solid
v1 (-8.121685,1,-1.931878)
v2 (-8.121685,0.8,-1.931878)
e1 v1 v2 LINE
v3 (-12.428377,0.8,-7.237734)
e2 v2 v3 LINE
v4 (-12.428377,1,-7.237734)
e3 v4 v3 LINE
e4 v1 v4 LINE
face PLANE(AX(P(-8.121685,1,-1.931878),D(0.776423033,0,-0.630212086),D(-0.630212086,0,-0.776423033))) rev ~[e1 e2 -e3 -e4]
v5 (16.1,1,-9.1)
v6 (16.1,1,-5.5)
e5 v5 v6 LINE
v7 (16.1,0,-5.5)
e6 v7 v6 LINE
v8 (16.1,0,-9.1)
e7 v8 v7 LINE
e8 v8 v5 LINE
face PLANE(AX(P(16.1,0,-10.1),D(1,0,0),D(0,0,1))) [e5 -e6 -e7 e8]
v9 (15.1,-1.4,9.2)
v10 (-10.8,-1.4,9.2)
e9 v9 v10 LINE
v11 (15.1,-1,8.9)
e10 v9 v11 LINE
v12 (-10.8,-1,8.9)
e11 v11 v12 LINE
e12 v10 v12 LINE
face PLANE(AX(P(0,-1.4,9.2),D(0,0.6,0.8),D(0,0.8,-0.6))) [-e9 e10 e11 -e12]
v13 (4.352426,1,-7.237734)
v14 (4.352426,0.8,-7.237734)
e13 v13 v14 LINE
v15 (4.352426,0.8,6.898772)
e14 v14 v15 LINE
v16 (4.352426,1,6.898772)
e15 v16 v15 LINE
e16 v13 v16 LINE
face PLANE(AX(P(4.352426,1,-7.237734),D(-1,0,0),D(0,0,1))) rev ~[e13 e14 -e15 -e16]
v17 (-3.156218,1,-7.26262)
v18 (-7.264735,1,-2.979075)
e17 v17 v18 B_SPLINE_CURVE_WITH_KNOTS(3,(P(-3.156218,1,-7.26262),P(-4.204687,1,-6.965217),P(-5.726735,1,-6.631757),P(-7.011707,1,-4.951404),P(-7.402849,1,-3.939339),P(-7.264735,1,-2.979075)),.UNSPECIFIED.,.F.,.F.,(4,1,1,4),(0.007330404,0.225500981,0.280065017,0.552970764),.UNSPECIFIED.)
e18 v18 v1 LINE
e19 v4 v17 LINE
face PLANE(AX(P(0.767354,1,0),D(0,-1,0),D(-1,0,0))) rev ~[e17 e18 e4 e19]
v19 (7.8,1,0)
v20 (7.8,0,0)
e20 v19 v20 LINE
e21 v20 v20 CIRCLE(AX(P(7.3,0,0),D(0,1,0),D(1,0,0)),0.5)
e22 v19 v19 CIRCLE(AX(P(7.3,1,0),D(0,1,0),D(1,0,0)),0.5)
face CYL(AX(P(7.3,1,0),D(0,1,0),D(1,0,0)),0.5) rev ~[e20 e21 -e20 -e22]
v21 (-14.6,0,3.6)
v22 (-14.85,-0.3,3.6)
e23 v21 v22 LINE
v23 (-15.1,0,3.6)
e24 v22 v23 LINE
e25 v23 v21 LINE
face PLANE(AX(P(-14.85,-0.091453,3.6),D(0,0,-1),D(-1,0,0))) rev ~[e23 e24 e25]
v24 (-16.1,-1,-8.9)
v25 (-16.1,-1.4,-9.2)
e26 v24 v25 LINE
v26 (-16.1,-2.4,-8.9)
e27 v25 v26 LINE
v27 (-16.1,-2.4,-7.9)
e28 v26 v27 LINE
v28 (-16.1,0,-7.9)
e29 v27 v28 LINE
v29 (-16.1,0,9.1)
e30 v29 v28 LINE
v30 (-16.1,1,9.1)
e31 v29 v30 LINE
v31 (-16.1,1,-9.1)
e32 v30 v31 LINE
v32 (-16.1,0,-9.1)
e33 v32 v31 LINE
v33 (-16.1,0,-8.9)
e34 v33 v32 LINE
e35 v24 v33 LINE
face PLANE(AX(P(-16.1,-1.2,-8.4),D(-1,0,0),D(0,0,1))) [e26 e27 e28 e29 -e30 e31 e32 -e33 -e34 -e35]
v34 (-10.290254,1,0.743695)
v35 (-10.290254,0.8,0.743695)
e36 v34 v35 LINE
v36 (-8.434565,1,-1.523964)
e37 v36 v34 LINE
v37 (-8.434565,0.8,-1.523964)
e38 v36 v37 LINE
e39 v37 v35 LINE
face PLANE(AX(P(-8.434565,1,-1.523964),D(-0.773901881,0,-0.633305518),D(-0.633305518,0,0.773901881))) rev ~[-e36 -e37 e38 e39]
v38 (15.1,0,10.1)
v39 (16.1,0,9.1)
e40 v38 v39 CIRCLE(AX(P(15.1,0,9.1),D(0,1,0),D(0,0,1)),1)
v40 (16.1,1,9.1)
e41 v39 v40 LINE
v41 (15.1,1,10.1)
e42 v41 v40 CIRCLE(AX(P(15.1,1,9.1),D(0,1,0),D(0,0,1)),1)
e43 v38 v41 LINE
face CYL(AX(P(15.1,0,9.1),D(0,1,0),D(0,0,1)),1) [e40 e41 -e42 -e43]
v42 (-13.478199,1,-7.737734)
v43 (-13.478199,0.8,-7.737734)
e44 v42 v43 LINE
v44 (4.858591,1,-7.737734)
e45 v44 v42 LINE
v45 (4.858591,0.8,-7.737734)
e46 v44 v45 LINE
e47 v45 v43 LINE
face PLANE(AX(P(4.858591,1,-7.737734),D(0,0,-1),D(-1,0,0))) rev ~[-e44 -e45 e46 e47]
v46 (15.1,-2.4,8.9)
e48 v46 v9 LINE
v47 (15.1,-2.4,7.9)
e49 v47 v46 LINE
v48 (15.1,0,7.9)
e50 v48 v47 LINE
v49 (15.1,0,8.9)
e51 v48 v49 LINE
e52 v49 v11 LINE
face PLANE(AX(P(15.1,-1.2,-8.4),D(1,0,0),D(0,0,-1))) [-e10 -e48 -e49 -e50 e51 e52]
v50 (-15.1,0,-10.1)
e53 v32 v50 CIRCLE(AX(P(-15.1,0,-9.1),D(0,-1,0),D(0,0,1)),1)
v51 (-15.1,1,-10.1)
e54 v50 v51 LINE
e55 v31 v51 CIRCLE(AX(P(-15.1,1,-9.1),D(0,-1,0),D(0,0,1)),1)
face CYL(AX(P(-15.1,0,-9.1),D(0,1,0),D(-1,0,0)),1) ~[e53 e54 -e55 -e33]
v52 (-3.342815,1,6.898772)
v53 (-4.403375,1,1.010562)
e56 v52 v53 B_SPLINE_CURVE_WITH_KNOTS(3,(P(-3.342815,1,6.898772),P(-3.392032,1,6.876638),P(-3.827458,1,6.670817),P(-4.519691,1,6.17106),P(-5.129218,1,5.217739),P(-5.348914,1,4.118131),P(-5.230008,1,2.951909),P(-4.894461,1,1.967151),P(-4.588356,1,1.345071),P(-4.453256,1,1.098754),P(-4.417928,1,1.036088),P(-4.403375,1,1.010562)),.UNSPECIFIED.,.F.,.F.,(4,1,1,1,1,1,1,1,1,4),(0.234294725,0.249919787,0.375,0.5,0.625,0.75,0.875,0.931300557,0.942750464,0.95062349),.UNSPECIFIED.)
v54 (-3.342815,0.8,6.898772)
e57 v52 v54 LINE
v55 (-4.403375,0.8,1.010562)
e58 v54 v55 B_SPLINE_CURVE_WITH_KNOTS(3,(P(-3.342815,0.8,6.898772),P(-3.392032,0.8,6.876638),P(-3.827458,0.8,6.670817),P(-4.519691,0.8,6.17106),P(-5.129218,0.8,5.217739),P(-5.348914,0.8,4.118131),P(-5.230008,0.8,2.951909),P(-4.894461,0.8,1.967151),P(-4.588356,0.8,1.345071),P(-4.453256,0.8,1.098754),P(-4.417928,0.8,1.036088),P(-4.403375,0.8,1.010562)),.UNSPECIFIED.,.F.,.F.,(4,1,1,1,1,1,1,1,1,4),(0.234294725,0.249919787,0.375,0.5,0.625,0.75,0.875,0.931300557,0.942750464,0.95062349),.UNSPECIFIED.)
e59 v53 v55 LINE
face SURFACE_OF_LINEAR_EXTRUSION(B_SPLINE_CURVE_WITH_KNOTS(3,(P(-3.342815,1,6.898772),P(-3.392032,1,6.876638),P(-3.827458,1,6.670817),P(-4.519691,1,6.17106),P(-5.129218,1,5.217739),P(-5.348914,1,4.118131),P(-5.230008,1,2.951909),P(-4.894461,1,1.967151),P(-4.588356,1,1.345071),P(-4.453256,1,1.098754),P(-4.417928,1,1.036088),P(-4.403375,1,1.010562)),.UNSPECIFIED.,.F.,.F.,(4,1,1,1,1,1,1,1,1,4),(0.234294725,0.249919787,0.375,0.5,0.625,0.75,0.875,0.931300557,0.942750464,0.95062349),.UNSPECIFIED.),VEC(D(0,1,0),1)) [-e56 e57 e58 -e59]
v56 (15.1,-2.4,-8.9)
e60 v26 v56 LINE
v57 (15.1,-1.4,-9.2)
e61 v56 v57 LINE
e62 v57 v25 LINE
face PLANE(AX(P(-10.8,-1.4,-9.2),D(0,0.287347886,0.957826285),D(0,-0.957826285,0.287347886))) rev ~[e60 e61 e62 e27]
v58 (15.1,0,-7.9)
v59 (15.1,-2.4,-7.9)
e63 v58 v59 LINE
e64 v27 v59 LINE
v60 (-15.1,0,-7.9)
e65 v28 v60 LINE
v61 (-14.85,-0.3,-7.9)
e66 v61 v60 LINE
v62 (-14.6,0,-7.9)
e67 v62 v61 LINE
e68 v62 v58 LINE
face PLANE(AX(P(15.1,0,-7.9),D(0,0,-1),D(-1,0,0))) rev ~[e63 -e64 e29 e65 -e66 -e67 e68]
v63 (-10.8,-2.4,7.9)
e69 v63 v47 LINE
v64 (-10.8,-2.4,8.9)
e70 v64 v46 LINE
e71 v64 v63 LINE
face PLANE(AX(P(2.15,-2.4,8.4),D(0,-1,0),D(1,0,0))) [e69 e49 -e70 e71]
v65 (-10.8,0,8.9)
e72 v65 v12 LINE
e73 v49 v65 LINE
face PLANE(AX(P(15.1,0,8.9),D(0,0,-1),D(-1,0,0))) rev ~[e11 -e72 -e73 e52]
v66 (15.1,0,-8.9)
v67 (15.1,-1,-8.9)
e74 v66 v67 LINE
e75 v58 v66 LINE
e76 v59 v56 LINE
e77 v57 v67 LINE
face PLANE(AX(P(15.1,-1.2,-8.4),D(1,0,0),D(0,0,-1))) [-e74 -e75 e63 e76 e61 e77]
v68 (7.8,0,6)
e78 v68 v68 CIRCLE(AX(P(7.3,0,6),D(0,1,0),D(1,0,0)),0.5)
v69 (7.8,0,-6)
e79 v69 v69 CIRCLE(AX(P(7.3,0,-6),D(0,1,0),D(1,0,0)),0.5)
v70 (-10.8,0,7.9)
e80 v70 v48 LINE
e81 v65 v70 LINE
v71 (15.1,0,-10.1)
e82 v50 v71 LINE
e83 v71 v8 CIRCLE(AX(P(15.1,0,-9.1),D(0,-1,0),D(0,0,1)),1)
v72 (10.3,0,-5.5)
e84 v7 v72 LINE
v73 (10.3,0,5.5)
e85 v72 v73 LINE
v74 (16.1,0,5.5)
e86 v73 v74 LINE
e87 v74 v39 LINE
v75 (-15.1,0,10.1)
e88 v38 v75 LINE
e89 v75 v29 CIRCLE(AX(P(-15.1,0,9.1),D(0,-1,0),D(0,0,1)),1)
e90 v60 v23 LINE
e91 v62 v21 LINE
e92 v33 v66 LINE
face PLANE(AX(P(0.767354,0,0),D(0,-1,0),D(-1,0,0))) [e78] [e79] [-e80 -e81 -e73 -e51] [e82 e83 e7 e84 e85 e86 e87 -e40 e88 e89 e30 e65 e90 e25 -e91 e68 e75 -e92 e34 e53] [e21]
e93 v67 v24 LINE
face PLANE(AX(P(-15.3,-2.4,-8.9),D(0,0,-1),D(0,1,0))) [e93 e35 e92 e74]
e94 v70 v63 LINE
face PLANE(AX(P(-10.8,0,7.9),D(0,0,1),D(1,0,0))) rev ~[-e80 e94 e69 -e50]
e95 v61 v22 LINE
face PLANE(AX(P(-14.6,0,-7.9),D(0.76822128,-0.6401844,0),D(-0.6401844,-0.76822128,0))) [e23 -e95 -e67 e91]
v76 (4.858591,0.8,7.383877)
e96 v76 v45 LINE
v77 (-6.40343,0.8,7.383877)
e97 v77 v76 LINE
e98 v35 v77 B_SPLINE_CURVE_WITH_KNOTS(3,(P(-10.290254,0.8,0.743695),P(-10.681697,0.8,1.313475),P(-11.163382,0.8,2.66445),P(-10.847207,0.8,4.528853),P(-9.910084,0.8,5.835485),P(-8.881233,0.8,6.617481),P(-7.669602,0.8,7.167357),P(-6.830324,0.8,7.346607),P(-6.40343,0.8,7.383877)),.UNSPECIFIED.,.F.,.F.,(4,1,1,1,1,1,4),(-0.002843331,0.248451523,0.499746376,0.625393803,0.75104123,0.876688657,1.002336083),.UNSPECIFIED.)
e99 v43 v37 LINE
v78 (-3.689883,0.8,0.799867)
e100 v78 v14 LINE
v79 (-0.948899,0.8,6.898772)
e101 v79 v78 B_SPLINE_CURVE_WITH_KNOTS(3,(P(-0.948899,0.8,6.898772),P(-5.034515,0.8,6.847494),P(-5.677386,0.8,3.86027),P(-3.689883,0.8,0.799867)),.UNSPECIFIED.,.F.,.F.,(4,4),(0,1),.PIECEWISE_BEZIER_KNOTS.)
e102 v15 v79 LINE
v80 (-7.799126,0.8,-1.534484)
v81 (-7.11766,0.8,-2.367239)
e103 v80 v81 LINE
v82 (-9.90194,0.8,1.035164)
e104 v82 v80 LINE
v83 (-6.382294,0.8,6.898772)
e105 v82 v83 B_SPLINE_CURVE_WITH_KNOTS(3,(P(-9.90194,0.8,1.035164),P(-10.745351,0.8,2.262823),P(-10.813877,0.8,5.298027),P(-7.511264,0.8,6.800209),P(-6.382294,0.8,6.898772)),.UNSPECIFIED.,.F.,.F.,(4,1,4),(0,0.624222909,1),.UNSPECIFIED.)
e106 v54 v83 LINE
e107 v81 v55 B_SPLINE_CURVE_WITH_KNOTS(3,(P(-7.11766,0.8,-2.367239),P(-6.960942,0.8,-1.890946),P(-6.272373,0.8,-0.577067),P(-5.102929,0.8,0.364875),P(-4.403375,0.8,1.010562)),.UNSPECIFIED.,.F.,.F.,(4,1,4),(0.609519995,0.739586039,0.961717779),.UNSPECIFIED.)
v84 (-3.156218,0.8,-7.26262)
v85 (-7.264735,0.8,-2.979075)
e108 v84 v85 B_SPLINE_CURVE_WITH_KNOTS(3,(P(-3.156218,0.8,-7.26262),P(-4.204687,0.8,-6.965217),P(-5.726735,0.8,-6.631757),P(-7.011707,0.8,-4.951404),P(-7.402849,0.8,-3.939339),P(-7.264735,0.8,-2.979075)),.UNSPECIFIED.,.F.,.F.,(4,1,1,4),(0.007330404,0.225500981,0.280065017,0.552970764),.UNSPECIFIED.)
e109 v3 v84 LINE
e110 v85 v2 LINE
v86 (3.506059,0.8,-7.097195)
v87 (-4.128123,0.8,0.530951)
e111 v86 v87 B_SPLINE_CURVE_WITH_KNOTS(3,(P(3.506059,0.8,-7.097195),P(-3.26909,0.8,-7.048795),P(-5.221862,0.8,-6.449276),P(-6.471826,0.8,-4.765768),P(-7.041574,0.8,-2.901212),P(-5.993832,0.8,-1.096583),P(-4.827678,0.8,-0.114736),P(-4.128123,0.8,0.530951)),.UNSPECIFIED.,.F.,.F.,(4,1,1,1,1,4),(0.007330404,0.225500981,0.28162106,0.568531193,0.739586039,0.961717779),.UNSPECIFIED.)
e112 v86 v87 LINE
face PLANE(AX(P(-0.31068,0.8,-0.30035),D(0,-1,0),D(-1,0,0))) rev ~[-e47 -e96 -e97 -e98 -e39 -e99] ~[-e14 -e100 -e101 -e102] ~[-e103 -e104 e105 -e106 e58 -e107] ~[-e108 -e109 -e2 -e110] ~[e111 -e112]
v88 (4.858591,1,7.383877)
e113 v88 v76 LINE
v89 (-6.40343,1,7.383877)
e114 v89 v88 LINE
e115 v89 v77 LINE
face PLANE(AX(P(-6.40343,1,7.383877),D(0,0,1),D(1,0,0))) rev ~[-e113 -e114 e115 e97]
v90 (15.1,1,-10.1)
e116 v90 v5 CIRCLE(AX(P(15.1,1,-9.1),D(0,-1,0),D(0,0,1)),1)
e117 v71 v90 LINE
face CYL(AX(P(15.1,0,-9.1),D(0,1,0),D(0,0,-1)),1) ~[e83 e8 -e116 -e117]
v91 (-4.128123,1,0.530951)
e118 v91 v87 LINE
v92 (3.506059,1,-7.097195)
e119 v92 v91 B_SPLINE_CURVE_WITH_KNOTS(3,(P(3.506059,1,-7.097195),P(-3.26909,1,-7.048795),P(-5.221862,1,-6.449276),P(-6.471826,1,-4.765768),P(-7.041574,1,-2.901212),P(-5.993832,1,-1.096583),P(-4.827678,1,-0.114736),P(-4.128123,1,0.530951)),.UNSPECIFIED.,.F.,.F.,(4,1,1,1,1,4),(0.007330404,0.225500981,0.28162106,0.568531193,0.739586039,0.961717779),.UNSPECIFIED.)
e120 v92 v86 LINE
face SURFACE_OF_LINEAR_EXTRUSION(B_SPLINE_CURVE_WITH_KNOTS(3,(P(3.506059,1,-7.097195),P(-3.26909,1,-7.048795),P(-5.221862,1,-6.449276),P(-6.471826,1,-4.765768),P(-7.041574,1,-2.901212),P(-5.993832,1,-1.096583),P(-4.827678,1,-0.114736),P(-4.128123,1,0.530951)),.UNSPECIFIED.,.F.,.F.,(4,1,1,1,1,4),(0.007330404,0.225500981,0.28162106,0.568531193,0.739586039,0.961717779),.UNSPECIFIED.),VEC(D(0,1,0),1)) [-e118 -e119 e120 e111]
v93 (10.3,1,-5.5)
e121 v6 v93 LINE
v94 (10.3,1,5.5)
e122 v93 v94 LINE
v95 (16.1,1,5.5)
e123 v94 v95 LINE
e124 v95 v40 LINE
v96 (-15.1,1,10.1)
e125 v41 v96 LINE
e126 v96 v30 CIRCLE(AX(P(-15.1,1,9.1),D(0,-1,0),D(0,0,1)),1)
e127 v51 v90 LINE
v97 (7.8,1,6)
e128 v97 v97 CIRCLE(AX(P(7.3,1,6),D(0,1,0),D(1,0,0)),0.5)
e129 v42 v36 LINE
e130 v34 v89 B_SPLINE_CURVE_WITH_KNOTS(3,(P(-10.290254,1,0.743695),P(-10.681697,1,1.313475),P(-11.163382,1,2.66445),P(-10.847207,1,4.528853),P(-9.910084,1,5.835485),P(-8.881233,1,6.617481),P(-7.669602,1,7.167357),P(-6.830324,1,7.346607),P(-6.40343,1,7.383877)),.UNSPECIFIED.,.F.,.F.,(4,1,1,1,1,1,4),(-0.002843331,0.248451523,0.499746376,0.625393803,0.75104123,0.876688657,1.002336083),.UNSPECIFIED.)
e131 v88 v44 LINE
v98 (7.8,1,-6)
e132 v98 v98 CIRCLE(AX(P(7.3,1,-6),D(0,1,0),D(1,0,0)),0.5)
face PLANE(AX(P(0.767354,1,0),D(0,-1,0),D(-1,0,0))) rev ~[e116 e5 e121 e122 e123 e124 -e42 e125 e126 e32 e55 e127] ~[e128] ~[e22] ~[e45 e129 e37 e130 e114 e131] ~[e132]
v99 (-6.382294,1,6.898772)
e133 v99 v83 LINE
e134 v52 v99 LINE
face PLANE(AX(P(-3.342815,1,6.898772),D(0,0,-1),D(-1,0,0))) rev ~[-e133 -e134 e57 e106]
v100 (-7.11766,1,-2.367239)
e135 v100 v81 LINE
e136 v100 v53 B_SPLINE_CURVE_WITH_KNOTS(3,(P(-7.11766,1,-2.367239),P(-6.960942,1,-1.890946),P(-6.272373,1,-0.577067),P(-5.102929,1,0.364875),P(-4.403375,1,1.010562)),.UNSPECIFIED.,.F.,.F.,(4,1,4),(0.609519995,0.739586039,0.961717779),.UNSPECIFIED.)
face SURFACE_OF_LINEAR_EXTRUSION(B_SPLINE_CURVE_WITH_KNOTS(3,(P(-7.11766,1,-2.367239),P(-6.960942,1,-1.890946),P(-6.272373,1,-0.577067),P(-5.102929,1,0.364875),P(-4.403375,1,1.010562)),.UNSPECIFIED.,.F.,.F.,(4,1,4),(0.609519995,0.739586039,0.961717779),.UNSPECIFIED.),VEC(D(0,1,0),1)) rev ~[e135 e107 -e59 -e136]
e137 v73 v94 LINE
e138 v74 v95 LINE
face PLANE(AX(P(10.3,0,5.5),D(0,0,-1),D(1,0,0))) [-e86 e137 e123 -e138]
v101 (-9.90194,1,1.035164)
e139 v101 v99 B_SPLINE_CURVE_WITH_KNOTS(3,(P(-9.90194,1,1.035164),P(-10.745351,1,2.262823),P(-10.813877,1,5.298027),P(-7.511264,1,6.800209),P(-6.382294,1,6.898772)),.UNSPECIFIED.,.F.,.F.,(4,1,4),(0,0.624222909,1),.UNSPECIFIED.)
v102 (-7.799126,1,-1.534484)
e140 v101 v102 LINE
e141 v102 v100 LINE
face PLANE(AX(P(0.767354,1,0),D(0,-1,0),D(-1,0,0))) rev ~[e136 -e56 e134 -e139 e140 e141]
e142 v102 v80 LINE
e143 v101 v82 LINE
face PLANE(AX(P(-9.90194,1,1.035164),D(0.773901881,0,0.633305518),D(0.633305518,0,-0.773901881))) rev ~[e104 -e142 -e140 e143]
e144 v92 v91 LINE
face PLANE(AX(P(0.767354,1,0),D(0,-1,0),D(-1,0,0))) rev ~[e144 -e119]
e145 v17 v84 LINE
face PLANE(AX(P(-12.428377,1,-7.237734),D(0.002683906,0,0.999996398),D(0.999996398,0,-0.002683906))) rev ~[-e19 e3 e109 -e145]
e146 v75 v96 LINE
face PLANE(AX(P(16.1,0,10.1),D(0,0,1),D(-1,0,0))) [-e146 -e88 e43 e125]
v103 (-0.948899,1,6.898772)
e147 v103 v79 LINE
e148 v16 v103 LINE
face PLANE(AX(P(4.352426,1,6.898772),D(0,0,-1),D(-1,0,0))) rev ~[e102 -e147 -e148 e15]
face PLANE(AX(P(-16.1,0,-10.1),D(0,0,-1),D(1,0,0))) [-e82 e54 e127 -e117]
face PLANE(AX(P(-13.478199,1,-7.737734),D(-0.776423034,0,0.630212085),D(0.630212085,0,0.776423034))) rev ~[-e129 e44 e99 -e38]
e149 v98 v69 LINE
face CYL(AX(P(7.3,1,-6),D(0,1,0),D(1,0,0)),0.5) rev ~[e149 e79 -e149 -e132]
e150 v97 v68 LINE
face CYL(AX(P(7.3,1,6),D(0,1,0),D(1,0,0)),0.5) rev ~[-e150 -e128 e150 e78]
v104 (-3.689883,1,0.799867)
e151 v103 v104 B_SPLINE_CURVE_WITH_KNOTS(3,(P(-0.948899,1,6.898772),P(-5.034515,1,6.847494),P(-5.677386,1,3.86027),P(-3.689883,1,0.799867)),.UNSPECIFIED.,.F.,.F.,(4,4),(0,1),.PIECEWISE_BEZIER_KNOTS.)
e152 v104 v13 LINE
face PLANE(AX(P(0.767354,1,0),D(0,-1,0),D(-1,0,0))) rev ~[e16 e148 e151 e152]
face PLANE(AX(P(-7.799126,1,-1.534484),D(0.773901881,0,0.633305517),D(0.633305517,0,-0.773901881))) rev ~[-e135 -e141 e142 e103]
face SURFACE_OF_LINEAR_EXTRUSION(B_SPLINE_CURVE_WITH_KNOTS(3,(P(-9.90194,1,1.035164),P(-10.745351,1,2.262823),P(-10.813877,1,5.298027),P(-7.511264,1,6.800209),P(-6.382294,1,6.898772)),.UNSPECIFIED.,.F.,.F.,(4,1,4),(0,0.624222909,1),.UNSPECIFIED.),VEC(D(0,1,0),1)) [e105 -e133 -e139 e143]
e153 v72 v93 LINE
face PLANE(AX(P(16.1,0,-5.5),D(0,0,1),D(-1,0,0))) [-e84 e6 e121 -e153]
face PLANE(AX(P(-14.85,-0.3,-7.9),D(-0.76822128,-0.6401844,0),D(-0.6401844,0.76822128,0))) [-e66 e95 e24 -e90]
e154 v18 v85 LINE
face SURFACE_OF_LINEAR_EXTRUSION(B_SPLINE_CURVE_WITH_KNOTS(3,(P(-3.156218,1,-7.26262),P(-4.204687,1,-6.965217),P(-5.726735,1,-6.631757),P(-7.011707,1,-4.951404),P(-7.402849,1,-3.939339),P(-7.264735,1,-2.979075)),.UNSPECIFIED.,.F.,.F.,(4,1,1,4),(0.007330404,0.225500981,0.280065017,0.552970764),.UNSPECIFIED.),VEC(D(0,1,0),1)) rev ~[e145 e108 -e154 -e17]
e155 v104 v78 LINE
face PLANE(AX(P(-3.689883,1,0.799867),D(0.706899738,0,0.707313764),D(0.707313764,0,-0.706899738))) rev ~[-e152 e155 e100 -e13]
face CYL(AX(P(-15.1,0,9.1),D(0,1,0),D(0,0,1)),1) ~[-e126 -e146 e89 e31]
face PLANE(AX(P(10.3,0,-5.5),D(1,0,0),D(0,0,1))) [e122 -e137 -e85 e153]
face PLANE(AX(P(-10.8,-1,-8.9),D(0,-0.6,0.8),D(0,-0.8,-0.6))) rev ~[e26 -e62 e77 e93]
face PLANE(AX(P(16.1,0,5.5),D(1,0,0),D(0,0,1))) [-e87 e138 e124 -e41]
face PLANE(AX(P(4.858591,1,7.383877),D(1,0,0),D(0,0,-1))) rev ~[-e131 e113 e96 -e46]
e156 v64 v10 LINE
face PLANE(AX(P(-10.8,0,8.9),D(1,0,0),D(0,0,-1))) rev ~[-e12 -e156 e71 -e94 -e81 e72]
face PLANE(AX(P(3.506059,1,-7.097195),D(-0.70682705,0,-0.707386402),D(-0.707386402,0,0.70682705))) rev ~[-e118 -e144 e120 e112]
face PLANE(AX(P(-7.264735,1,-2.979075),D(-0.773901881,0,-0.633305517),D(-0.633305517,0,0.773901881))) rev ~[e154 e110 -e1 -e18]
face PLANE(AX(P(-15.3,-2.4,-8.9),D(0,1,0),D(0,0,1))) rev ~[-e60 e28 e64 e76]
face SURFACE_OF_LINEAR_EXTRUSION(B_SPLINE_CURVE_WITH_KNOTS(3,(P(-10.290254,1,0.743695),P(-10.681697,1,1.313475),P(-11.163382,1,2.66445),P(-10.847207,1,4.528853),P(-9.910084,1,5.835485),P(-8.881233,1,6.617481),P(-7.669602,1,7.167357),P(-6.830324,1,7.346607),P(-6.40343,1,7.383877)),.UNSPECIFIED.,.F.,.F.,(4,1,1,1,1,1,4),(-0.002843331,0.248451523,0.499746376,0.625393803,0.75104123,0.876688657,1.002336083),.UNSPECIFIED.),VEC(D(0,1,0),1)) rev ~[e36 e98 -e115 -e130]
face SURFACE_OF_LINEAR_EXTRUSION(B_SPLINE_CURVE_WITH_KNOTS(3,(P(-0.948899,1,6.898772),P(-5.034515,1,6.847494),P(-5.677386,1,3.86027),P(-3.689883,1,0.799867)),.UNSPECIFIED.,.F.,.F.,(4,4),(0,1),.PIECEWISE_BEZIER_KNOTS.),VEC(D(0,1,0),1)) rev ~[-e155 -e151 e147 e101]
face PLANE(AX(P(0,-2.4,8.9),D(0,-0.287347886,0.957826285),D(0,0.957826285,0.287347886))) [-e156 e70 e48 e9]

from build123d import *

# Parameters (mm, degrees)
BOSS_EXTRUDE1_DEPTH             = 1
BOSS_EXTRUDE2_DEPTH             = 2.4
BOSS_EXTRUDE3_REACH             = 18.1
BOSS_EXTRUDE3_DIRECTION_2_REACH = 18.1
BOSS_EXTRUDE4_DEPTH             = 5.3
FILLET1_R                       = 1
SKETCH5_W                       = 1
SKETCH5_H                       = 2.4
BOSS_EXTRUDE5_DEPTH             = 0.8
CUT_EXTRUDE1_DEPTH              = 0.2
BOSS_EXTRUDE6_DEPTH             = 11.5
SKETCH12_R                      = 0.5
CUT_EXTRUDE6_DEPTH              = 4.4


with BuildPart() as part:
    # Sketch1 → Boss-Extrude1 (new body)
    with BuildSketch(Plane(origin=(0, 0, 0), x_dir=(1, 0, 0), z_dir=(0, 1, 0))):
        Polygon((16.1, 5.5), (10.3, 5.5), (10.3, -5.5), (16.1, -5.5), (16.1, -10.1), (-16.1, -10.1), (-16.1, 10.1), (16.1, 10.1), align=None)
    extrude(amount=BOSS_EXTRUDE1_DEPTH)

    # Sketch2 → Boss-Extrude2 (add)
    with BuildSketch(Plane.XZ):
        Polygon((15.1, 8.9), (-10.8, 8.9), (-10.8, 7.9), (14.1, 7.9), (15.1, 7.9), align=None)
        Polygon((15.1, -8.9), (-15.3, -8.9), (-15.3, -7.9), (-14.3, -7.9), (14.1, -7.9), (15.1, -7.9), align=None)
    extrude(amount=BOSS_EXTRUDE2_DEPTH)

    # Boss-Extrude3: up to this face of the body (flat: up to its plane)
    boss_extrude3_end = Plane(part.part.faces().sort_by_distance((-10.8, -1.2, 8.4))[0])
    # Sketch3 → Boss-Extrude3 (add, up to the picked face)
    with BuildSketch(Plane(origin=(0, 0, 0), x_dir=(0, 0, -1), z_dir=(1, 0, 0)), mode=Mode.PRIVATE) as boss_extrude3_sk1:
        Polygon((8.9, -2.4), (9.2, -1.4), (8.9, -1), align=None)
    boss_extrude3_tool1 = split(extrude(boss_extrude3_sk1.sketch, amount=-BOSS_EXTRUDE3_REACH, mode=Mode.PRIVATE), bisect_by=boss_extrude3_end, keep=Keep.BOTH, mode=Mode.PRIVATE)
    add(boss_extrude3_tool1.solids().sort_by_distance((0, -1.6, -9))[0])
    # Sketch3 → Boss-Extrude3 (add, up to the picked face)
    with BuildSketch(Plane(origin=(0, 0, 0), x_dir=(0, 0, -1), z_dir=(1, 0, 0)), mode=Mode.PRIVATE) as boss_extrude3_sk2:
        Polygon((-8.9, -1), (-8.9, -2.4), (-9.2, -1.4), align=None)
    boss_extrude3_tool2 = split(extrude(boss_extrude3_sk2.sketch, amount=-BOSS_EXTRUDE3_REACH, mode=Mode.PRIVATE), bisect_by=boss_extrude3_end, keep=Keep.BOTH, mode=Mode.PRIVATE)
    add(boss_extrude3_tool2.solids().sort_by_distance((0, -1.6, 9))[0])

    # Boss-Extrude3 direction 2: up to this face of the body (flat: up to its plane)
    boss_extrude3_direction_2_end = Plane(part.part.faces().sort_by_distance((15.1, -1.2, -8.4))[0])
    # Sketch3 → Boss-Extrude3 direction 2 (add, up to the picked face)
    with BuildSketch(Plane(origin=(0, 0, 0), x_dir=(0, 0, -1), z_dir=(1, 0, 0)), mode=Mode.PRIVATE) as boss_extrude3_direction_2_sk1:
        Polygon((8.9, -2.4), (9.2, -1.4), (8.9, -1), align=None)
    boss_extrude3_direction_2_tool1 = split(extrude(boss_extrude3_direction_2_sk1.sketch, amount=BOSS_EXTRUDE3_DIRECTION_2_REACH, mode=Mode.PRIVATE), bisect_by=boss_extrude3_direction_2_end, keep=Keep.BOTH, mode=Mode.PRIVATE)
    add(boss_extrude3_direction_2_tool1.solids().sort_by_distance((0, -1.6, -9))[0])
    # Sketch3 → Boss-Extrude3 direction 2 (add, up to the picked face)
    with BuildSketch(Plane(origin=(0, 0, 0), x_dir=(0, 0, -1), z_dir=(1, 0, 0)), mode=Mode.PRIVATE) as boss_extrude3_direction_2_sk2:
        Polygon((-8.9, -1), (-8.9, -2.4), (-9.2, -1.4), align=None)
    boss_extrude3_direction_2_tool2 = split(extrude(boss_extrude3_direction_2_sk2.sketch, amount=BOSS_EXTRUDE3_DIRECTION_2_REACH, mode=Mode.PRIVATE), bisect_by=boss_extrude3_direction_2_end, keep=Keep.BOTH, mode=Mode.PRIVATE)
    add(boss_extrude3_direction_2_tool2.solids().sort_by_distance((0, -1.6, 9))[0])

    # Sketch4 → Boss-Extrude4 (add)
    with BuildSketch(Plane.ZY.offset(10.8)):
        Polygon((-8.9, -2.4), (-8.9, -1), (-9.2, -1.4), align=None)
    extrude(amount=BOSS_EXTRUDE4_DEPTH)

    # Fillet1
    fillet1_edges = [part.edges().sort_by_distance(p)[0] for p in [
        (-16.1, 0.5, 10.1),
        (16.1, 0.5, 10.1),
        (16.1, 0.5, -10.1),
        (-16.1, 0.5, -10.1),
    ]]
    fillet(fillet1_edges, radius=FILLET1_R)

    # Sketch5 → Boss-Extrude5 (add)
    with BuildSketch(Plane.ZY.offset(15.3)):
        with Locations((-8.4, -1.2)):
            Rectangle(SKETCH5_W, SKETCH5_H)
    extrude(amount=BOSS_EXTRUDE5_DEPTH)

    # Sketch9 → Cut-Extrude1 (cut)
    with BuildSketch(Plane(origin=(0, 1, 0), x_dir=(1, 0, 0), z_dir=(0, 1, 0))):
        with BuildLine():
            add(Edge.make_bspline(
                [(-3.342815403, -6.898771532), (-3.392032296, -6.876638055), (-3.827458148, -6.670816542), (-4.519691405, -6.171060382), (-5.129218139, -5.217739053), (-5.348913685, -4.118130523), (-5.230008041, -2.951908877), (-4.894461229, -1.967151288), (-4.588355912, -1.345070717), (-4.453256479, -1.098754494), (-4.417927521, -1.036087622), (-4.4033747, -1.01056214)],
                knots=[0.234294725, 0.234294725, 0.234294725, 0.234294725, 0.249919787, 0.375, 0.5, 0.625, 0.75, 0.875, 0.931300557, 0.942750464, 0.95062349, 0.95062349, 0.95062349, 0.95062349], degree=3))
            add(Edge.make_bspline(
                [(-3.342815403, -6.898771532), (-2.542251184, -7.287796887), (-1.658619274, -7.383876714)],
                knots=[0, 0, 0, 1, 1, 1], degree=2))
            Line((-1.658619274, -7.383876714), (-0.948898515, -7.383876714))
            Line((-0.948898515, -7.383876714), (4.858590941, -7.383876714))
            Line((4.858590941, -7.383876714), (4.858590941, 7.737734352))
            Line((4.858590941, 7.737734352), (-3.156218351, 7.262620046))
            add(Edge.make_bspline(
                [(-3.156218351, 7.262620046), (-4.204686525, 6.965216897), (-5.726735189, 6.631756812), (-7.011707154, 4.951403609), (-7.402848959, 3.939339374), (-7.264734741, 2.979074857)],
                knots=[0.007330404, 0.007330404, 0.007330404, 0.007330404, 0.225500981, 0.280065017, 0.552970764, 0.552970764, 0.552970764, 0.552970764], degree=3))
            Line((-7.264734741, 2.979074857), (-7.117659595, 2.367238768))
            add(Edge.make_bspline(
                [(-7.117659595, 2.367238768), (-6.960941749, 1.890945903), (-6.272373332, 0.577066844), (-5.102929425, -0.364874806), (-4.4033747, -1.01056214)],
                knots=[0.609519995, 0.609519995, 0.609519995, 0.609519995, 0.739586039, 0.961717779, 0.961717779, 0.961717779, 0.961717779], degree=3))
        make_face()
        with BuildLine():
            Line((-3.689882661, -0.799866909), (4.352426166, 7.237734352))
            Line((4.352426166, 7.237734352), (4.352426166, -6.898771532))
            Line((4.352426166, -6.898771532), (0.040224346, -6.898771532))
            Line((0.040224346, -6.898771532), (-0.948898515, -6.898771532))
            add(Edge.make_bspline(
                [(-0.948898515, -6.898771532), (-5.034514831, -6.847494081), (-5.677385917, -3.860270153), (-3.689882661, -0.799866909)],
                knots=[0, 0, 0, 0, 1, 1, 1, 1], degree=3))
        make_face(mode=Mode.SUBTRACT)
        with BuildLine():
            Line((3.506059361, 7.097194921), (-4.128123279, -0.530951144))
            add(Edge.make_bspline(
                [(3.506059361, 7.097194921), (-3.269089821, 7.048794638), (-5.221862409, 6.449276012), (-6.471825808, 4.765768499), (-7.041574265, 2.901212273), (-5.99383179, 1.096583313), (-4.827678003, 0.11473619), (-4.128123279, -0.530951144)],
                knots=[0.007330404, 0.007330404, 0.007330404, 0.007330404, 0.225500981, 0.28162106, 0.568531193, 0.739586039, 0.961717779, 0.961717779, 0.961717779, 0.961717779], degree=3))
        make_face(mode=Mode.SUBTRACT)
        with BuildLine():
            add(Edge.make_bspline(
                [(-3.342815403, -6.898771532), (-2.542251184, -7.287796887), (-1.658619274, -7.383876714)],
                knots=[0, 0, 0, 1, 1, 1], degree=2))
            Line((-3.342815403, -6.898771532), (-6.38229421, -6.898771532))
            add(Edge.make_bspline(
                [(-9.901940455, -1.035163603), (-10.745351374, -2.262822828), (-10.813877235, -5.298026757), (-7.511264228, -6.800208927), (-6.38229421, -6.898771532)],
                knots=[0, 0, 0, 0, 0.624222909, 1, 1, 1, 1], degree=3))
            Line((-9.901940455, -1.035163603), (-7.799125954, 1.534484145))
            Line((-7.799125954, 1.534484145), (-7.117659595, 2.367238768))
            Line((-7.117659595, 2.367238768), (-7.264734741, 2.979074857))
            Line((-7.264734741, 2.979074857), (-8.121685172, 1.931877995))
            Line((-8.121685172, 1.931877995), (-12.428377088, 7.237734352))
            Line((-12.428377088, 7.237734352), (-3.156218351, 7.262620046))
            Line((-3.156218351, 7.262620046), (4.858590941, 7.737734352))
            Line((4.858590941, 7.737734352), (-13.478199155, 7.737734352))
            Line((-13.478199155, 7.737734352), (-8.434565478, 1.523963693))
            Line((-8.434565478, 1.523963693), (-10.290254207, -0.743695372))
            add(Edge.make_bspline(
                [(-10.290254207, -0.743695372), (-10.681696867, -1.313474801), (-11.163382472, -2.664450315), (-10.847207421, -4.528853246), (-9.910083857, -5.835484729), (-8.881232555, -6.617480767), (-7.669601654, -7.167356574), (-6.83032417, -7.346607487), (-6.403429612, -7.383876714)],
                knots=[-0.002843331, -0.002843331, -0.002843331, -0.002843331, 0.248451523, 0.499746376, 0.625393803, 0.75104123, 0.876688657, 1.002336083, 1.002336083, 1.002336083, 1.002336083], degree=3))
            Line((-6.403429612, -7.383876714), (-1.658619274, -7.383876714))
        make_face()
    extrude(amount=-CUT_EXTRUDE1_DEPTH, mode=Mode.SUBTRACT)

    # Sketch11 → Boss-Extrude6 (add)
    with BuildSketch(Plane.XY.offset(-7.9)):
        Polygon((-15.1, 0), (-14.6, 0), (-14.85, -0.3), align=None)
    extrude(amount=BOSS_EXTRUDE6_DEPTH)

    # Sketch12 → Cut-Extrude6 (cut, through all)
    with BuildSketch(Plane(origin=(0, 1, 0), x_dir=(1, 0, 0), z_dir=(0, 1, 0))):
        with Locations((7.3, 0)):
            Circle(SKETCH12_R)
        with Locations((7.3, -6)):
            Circle(SKETCH12_R)
        with Locations((7.3, 6)):
            Circle(SKETCH12_R)
    extrude(amount=-CUT_EXTRUDE6_DEPTH, mode=Mode.SUBTRACT)


solid = part.part
